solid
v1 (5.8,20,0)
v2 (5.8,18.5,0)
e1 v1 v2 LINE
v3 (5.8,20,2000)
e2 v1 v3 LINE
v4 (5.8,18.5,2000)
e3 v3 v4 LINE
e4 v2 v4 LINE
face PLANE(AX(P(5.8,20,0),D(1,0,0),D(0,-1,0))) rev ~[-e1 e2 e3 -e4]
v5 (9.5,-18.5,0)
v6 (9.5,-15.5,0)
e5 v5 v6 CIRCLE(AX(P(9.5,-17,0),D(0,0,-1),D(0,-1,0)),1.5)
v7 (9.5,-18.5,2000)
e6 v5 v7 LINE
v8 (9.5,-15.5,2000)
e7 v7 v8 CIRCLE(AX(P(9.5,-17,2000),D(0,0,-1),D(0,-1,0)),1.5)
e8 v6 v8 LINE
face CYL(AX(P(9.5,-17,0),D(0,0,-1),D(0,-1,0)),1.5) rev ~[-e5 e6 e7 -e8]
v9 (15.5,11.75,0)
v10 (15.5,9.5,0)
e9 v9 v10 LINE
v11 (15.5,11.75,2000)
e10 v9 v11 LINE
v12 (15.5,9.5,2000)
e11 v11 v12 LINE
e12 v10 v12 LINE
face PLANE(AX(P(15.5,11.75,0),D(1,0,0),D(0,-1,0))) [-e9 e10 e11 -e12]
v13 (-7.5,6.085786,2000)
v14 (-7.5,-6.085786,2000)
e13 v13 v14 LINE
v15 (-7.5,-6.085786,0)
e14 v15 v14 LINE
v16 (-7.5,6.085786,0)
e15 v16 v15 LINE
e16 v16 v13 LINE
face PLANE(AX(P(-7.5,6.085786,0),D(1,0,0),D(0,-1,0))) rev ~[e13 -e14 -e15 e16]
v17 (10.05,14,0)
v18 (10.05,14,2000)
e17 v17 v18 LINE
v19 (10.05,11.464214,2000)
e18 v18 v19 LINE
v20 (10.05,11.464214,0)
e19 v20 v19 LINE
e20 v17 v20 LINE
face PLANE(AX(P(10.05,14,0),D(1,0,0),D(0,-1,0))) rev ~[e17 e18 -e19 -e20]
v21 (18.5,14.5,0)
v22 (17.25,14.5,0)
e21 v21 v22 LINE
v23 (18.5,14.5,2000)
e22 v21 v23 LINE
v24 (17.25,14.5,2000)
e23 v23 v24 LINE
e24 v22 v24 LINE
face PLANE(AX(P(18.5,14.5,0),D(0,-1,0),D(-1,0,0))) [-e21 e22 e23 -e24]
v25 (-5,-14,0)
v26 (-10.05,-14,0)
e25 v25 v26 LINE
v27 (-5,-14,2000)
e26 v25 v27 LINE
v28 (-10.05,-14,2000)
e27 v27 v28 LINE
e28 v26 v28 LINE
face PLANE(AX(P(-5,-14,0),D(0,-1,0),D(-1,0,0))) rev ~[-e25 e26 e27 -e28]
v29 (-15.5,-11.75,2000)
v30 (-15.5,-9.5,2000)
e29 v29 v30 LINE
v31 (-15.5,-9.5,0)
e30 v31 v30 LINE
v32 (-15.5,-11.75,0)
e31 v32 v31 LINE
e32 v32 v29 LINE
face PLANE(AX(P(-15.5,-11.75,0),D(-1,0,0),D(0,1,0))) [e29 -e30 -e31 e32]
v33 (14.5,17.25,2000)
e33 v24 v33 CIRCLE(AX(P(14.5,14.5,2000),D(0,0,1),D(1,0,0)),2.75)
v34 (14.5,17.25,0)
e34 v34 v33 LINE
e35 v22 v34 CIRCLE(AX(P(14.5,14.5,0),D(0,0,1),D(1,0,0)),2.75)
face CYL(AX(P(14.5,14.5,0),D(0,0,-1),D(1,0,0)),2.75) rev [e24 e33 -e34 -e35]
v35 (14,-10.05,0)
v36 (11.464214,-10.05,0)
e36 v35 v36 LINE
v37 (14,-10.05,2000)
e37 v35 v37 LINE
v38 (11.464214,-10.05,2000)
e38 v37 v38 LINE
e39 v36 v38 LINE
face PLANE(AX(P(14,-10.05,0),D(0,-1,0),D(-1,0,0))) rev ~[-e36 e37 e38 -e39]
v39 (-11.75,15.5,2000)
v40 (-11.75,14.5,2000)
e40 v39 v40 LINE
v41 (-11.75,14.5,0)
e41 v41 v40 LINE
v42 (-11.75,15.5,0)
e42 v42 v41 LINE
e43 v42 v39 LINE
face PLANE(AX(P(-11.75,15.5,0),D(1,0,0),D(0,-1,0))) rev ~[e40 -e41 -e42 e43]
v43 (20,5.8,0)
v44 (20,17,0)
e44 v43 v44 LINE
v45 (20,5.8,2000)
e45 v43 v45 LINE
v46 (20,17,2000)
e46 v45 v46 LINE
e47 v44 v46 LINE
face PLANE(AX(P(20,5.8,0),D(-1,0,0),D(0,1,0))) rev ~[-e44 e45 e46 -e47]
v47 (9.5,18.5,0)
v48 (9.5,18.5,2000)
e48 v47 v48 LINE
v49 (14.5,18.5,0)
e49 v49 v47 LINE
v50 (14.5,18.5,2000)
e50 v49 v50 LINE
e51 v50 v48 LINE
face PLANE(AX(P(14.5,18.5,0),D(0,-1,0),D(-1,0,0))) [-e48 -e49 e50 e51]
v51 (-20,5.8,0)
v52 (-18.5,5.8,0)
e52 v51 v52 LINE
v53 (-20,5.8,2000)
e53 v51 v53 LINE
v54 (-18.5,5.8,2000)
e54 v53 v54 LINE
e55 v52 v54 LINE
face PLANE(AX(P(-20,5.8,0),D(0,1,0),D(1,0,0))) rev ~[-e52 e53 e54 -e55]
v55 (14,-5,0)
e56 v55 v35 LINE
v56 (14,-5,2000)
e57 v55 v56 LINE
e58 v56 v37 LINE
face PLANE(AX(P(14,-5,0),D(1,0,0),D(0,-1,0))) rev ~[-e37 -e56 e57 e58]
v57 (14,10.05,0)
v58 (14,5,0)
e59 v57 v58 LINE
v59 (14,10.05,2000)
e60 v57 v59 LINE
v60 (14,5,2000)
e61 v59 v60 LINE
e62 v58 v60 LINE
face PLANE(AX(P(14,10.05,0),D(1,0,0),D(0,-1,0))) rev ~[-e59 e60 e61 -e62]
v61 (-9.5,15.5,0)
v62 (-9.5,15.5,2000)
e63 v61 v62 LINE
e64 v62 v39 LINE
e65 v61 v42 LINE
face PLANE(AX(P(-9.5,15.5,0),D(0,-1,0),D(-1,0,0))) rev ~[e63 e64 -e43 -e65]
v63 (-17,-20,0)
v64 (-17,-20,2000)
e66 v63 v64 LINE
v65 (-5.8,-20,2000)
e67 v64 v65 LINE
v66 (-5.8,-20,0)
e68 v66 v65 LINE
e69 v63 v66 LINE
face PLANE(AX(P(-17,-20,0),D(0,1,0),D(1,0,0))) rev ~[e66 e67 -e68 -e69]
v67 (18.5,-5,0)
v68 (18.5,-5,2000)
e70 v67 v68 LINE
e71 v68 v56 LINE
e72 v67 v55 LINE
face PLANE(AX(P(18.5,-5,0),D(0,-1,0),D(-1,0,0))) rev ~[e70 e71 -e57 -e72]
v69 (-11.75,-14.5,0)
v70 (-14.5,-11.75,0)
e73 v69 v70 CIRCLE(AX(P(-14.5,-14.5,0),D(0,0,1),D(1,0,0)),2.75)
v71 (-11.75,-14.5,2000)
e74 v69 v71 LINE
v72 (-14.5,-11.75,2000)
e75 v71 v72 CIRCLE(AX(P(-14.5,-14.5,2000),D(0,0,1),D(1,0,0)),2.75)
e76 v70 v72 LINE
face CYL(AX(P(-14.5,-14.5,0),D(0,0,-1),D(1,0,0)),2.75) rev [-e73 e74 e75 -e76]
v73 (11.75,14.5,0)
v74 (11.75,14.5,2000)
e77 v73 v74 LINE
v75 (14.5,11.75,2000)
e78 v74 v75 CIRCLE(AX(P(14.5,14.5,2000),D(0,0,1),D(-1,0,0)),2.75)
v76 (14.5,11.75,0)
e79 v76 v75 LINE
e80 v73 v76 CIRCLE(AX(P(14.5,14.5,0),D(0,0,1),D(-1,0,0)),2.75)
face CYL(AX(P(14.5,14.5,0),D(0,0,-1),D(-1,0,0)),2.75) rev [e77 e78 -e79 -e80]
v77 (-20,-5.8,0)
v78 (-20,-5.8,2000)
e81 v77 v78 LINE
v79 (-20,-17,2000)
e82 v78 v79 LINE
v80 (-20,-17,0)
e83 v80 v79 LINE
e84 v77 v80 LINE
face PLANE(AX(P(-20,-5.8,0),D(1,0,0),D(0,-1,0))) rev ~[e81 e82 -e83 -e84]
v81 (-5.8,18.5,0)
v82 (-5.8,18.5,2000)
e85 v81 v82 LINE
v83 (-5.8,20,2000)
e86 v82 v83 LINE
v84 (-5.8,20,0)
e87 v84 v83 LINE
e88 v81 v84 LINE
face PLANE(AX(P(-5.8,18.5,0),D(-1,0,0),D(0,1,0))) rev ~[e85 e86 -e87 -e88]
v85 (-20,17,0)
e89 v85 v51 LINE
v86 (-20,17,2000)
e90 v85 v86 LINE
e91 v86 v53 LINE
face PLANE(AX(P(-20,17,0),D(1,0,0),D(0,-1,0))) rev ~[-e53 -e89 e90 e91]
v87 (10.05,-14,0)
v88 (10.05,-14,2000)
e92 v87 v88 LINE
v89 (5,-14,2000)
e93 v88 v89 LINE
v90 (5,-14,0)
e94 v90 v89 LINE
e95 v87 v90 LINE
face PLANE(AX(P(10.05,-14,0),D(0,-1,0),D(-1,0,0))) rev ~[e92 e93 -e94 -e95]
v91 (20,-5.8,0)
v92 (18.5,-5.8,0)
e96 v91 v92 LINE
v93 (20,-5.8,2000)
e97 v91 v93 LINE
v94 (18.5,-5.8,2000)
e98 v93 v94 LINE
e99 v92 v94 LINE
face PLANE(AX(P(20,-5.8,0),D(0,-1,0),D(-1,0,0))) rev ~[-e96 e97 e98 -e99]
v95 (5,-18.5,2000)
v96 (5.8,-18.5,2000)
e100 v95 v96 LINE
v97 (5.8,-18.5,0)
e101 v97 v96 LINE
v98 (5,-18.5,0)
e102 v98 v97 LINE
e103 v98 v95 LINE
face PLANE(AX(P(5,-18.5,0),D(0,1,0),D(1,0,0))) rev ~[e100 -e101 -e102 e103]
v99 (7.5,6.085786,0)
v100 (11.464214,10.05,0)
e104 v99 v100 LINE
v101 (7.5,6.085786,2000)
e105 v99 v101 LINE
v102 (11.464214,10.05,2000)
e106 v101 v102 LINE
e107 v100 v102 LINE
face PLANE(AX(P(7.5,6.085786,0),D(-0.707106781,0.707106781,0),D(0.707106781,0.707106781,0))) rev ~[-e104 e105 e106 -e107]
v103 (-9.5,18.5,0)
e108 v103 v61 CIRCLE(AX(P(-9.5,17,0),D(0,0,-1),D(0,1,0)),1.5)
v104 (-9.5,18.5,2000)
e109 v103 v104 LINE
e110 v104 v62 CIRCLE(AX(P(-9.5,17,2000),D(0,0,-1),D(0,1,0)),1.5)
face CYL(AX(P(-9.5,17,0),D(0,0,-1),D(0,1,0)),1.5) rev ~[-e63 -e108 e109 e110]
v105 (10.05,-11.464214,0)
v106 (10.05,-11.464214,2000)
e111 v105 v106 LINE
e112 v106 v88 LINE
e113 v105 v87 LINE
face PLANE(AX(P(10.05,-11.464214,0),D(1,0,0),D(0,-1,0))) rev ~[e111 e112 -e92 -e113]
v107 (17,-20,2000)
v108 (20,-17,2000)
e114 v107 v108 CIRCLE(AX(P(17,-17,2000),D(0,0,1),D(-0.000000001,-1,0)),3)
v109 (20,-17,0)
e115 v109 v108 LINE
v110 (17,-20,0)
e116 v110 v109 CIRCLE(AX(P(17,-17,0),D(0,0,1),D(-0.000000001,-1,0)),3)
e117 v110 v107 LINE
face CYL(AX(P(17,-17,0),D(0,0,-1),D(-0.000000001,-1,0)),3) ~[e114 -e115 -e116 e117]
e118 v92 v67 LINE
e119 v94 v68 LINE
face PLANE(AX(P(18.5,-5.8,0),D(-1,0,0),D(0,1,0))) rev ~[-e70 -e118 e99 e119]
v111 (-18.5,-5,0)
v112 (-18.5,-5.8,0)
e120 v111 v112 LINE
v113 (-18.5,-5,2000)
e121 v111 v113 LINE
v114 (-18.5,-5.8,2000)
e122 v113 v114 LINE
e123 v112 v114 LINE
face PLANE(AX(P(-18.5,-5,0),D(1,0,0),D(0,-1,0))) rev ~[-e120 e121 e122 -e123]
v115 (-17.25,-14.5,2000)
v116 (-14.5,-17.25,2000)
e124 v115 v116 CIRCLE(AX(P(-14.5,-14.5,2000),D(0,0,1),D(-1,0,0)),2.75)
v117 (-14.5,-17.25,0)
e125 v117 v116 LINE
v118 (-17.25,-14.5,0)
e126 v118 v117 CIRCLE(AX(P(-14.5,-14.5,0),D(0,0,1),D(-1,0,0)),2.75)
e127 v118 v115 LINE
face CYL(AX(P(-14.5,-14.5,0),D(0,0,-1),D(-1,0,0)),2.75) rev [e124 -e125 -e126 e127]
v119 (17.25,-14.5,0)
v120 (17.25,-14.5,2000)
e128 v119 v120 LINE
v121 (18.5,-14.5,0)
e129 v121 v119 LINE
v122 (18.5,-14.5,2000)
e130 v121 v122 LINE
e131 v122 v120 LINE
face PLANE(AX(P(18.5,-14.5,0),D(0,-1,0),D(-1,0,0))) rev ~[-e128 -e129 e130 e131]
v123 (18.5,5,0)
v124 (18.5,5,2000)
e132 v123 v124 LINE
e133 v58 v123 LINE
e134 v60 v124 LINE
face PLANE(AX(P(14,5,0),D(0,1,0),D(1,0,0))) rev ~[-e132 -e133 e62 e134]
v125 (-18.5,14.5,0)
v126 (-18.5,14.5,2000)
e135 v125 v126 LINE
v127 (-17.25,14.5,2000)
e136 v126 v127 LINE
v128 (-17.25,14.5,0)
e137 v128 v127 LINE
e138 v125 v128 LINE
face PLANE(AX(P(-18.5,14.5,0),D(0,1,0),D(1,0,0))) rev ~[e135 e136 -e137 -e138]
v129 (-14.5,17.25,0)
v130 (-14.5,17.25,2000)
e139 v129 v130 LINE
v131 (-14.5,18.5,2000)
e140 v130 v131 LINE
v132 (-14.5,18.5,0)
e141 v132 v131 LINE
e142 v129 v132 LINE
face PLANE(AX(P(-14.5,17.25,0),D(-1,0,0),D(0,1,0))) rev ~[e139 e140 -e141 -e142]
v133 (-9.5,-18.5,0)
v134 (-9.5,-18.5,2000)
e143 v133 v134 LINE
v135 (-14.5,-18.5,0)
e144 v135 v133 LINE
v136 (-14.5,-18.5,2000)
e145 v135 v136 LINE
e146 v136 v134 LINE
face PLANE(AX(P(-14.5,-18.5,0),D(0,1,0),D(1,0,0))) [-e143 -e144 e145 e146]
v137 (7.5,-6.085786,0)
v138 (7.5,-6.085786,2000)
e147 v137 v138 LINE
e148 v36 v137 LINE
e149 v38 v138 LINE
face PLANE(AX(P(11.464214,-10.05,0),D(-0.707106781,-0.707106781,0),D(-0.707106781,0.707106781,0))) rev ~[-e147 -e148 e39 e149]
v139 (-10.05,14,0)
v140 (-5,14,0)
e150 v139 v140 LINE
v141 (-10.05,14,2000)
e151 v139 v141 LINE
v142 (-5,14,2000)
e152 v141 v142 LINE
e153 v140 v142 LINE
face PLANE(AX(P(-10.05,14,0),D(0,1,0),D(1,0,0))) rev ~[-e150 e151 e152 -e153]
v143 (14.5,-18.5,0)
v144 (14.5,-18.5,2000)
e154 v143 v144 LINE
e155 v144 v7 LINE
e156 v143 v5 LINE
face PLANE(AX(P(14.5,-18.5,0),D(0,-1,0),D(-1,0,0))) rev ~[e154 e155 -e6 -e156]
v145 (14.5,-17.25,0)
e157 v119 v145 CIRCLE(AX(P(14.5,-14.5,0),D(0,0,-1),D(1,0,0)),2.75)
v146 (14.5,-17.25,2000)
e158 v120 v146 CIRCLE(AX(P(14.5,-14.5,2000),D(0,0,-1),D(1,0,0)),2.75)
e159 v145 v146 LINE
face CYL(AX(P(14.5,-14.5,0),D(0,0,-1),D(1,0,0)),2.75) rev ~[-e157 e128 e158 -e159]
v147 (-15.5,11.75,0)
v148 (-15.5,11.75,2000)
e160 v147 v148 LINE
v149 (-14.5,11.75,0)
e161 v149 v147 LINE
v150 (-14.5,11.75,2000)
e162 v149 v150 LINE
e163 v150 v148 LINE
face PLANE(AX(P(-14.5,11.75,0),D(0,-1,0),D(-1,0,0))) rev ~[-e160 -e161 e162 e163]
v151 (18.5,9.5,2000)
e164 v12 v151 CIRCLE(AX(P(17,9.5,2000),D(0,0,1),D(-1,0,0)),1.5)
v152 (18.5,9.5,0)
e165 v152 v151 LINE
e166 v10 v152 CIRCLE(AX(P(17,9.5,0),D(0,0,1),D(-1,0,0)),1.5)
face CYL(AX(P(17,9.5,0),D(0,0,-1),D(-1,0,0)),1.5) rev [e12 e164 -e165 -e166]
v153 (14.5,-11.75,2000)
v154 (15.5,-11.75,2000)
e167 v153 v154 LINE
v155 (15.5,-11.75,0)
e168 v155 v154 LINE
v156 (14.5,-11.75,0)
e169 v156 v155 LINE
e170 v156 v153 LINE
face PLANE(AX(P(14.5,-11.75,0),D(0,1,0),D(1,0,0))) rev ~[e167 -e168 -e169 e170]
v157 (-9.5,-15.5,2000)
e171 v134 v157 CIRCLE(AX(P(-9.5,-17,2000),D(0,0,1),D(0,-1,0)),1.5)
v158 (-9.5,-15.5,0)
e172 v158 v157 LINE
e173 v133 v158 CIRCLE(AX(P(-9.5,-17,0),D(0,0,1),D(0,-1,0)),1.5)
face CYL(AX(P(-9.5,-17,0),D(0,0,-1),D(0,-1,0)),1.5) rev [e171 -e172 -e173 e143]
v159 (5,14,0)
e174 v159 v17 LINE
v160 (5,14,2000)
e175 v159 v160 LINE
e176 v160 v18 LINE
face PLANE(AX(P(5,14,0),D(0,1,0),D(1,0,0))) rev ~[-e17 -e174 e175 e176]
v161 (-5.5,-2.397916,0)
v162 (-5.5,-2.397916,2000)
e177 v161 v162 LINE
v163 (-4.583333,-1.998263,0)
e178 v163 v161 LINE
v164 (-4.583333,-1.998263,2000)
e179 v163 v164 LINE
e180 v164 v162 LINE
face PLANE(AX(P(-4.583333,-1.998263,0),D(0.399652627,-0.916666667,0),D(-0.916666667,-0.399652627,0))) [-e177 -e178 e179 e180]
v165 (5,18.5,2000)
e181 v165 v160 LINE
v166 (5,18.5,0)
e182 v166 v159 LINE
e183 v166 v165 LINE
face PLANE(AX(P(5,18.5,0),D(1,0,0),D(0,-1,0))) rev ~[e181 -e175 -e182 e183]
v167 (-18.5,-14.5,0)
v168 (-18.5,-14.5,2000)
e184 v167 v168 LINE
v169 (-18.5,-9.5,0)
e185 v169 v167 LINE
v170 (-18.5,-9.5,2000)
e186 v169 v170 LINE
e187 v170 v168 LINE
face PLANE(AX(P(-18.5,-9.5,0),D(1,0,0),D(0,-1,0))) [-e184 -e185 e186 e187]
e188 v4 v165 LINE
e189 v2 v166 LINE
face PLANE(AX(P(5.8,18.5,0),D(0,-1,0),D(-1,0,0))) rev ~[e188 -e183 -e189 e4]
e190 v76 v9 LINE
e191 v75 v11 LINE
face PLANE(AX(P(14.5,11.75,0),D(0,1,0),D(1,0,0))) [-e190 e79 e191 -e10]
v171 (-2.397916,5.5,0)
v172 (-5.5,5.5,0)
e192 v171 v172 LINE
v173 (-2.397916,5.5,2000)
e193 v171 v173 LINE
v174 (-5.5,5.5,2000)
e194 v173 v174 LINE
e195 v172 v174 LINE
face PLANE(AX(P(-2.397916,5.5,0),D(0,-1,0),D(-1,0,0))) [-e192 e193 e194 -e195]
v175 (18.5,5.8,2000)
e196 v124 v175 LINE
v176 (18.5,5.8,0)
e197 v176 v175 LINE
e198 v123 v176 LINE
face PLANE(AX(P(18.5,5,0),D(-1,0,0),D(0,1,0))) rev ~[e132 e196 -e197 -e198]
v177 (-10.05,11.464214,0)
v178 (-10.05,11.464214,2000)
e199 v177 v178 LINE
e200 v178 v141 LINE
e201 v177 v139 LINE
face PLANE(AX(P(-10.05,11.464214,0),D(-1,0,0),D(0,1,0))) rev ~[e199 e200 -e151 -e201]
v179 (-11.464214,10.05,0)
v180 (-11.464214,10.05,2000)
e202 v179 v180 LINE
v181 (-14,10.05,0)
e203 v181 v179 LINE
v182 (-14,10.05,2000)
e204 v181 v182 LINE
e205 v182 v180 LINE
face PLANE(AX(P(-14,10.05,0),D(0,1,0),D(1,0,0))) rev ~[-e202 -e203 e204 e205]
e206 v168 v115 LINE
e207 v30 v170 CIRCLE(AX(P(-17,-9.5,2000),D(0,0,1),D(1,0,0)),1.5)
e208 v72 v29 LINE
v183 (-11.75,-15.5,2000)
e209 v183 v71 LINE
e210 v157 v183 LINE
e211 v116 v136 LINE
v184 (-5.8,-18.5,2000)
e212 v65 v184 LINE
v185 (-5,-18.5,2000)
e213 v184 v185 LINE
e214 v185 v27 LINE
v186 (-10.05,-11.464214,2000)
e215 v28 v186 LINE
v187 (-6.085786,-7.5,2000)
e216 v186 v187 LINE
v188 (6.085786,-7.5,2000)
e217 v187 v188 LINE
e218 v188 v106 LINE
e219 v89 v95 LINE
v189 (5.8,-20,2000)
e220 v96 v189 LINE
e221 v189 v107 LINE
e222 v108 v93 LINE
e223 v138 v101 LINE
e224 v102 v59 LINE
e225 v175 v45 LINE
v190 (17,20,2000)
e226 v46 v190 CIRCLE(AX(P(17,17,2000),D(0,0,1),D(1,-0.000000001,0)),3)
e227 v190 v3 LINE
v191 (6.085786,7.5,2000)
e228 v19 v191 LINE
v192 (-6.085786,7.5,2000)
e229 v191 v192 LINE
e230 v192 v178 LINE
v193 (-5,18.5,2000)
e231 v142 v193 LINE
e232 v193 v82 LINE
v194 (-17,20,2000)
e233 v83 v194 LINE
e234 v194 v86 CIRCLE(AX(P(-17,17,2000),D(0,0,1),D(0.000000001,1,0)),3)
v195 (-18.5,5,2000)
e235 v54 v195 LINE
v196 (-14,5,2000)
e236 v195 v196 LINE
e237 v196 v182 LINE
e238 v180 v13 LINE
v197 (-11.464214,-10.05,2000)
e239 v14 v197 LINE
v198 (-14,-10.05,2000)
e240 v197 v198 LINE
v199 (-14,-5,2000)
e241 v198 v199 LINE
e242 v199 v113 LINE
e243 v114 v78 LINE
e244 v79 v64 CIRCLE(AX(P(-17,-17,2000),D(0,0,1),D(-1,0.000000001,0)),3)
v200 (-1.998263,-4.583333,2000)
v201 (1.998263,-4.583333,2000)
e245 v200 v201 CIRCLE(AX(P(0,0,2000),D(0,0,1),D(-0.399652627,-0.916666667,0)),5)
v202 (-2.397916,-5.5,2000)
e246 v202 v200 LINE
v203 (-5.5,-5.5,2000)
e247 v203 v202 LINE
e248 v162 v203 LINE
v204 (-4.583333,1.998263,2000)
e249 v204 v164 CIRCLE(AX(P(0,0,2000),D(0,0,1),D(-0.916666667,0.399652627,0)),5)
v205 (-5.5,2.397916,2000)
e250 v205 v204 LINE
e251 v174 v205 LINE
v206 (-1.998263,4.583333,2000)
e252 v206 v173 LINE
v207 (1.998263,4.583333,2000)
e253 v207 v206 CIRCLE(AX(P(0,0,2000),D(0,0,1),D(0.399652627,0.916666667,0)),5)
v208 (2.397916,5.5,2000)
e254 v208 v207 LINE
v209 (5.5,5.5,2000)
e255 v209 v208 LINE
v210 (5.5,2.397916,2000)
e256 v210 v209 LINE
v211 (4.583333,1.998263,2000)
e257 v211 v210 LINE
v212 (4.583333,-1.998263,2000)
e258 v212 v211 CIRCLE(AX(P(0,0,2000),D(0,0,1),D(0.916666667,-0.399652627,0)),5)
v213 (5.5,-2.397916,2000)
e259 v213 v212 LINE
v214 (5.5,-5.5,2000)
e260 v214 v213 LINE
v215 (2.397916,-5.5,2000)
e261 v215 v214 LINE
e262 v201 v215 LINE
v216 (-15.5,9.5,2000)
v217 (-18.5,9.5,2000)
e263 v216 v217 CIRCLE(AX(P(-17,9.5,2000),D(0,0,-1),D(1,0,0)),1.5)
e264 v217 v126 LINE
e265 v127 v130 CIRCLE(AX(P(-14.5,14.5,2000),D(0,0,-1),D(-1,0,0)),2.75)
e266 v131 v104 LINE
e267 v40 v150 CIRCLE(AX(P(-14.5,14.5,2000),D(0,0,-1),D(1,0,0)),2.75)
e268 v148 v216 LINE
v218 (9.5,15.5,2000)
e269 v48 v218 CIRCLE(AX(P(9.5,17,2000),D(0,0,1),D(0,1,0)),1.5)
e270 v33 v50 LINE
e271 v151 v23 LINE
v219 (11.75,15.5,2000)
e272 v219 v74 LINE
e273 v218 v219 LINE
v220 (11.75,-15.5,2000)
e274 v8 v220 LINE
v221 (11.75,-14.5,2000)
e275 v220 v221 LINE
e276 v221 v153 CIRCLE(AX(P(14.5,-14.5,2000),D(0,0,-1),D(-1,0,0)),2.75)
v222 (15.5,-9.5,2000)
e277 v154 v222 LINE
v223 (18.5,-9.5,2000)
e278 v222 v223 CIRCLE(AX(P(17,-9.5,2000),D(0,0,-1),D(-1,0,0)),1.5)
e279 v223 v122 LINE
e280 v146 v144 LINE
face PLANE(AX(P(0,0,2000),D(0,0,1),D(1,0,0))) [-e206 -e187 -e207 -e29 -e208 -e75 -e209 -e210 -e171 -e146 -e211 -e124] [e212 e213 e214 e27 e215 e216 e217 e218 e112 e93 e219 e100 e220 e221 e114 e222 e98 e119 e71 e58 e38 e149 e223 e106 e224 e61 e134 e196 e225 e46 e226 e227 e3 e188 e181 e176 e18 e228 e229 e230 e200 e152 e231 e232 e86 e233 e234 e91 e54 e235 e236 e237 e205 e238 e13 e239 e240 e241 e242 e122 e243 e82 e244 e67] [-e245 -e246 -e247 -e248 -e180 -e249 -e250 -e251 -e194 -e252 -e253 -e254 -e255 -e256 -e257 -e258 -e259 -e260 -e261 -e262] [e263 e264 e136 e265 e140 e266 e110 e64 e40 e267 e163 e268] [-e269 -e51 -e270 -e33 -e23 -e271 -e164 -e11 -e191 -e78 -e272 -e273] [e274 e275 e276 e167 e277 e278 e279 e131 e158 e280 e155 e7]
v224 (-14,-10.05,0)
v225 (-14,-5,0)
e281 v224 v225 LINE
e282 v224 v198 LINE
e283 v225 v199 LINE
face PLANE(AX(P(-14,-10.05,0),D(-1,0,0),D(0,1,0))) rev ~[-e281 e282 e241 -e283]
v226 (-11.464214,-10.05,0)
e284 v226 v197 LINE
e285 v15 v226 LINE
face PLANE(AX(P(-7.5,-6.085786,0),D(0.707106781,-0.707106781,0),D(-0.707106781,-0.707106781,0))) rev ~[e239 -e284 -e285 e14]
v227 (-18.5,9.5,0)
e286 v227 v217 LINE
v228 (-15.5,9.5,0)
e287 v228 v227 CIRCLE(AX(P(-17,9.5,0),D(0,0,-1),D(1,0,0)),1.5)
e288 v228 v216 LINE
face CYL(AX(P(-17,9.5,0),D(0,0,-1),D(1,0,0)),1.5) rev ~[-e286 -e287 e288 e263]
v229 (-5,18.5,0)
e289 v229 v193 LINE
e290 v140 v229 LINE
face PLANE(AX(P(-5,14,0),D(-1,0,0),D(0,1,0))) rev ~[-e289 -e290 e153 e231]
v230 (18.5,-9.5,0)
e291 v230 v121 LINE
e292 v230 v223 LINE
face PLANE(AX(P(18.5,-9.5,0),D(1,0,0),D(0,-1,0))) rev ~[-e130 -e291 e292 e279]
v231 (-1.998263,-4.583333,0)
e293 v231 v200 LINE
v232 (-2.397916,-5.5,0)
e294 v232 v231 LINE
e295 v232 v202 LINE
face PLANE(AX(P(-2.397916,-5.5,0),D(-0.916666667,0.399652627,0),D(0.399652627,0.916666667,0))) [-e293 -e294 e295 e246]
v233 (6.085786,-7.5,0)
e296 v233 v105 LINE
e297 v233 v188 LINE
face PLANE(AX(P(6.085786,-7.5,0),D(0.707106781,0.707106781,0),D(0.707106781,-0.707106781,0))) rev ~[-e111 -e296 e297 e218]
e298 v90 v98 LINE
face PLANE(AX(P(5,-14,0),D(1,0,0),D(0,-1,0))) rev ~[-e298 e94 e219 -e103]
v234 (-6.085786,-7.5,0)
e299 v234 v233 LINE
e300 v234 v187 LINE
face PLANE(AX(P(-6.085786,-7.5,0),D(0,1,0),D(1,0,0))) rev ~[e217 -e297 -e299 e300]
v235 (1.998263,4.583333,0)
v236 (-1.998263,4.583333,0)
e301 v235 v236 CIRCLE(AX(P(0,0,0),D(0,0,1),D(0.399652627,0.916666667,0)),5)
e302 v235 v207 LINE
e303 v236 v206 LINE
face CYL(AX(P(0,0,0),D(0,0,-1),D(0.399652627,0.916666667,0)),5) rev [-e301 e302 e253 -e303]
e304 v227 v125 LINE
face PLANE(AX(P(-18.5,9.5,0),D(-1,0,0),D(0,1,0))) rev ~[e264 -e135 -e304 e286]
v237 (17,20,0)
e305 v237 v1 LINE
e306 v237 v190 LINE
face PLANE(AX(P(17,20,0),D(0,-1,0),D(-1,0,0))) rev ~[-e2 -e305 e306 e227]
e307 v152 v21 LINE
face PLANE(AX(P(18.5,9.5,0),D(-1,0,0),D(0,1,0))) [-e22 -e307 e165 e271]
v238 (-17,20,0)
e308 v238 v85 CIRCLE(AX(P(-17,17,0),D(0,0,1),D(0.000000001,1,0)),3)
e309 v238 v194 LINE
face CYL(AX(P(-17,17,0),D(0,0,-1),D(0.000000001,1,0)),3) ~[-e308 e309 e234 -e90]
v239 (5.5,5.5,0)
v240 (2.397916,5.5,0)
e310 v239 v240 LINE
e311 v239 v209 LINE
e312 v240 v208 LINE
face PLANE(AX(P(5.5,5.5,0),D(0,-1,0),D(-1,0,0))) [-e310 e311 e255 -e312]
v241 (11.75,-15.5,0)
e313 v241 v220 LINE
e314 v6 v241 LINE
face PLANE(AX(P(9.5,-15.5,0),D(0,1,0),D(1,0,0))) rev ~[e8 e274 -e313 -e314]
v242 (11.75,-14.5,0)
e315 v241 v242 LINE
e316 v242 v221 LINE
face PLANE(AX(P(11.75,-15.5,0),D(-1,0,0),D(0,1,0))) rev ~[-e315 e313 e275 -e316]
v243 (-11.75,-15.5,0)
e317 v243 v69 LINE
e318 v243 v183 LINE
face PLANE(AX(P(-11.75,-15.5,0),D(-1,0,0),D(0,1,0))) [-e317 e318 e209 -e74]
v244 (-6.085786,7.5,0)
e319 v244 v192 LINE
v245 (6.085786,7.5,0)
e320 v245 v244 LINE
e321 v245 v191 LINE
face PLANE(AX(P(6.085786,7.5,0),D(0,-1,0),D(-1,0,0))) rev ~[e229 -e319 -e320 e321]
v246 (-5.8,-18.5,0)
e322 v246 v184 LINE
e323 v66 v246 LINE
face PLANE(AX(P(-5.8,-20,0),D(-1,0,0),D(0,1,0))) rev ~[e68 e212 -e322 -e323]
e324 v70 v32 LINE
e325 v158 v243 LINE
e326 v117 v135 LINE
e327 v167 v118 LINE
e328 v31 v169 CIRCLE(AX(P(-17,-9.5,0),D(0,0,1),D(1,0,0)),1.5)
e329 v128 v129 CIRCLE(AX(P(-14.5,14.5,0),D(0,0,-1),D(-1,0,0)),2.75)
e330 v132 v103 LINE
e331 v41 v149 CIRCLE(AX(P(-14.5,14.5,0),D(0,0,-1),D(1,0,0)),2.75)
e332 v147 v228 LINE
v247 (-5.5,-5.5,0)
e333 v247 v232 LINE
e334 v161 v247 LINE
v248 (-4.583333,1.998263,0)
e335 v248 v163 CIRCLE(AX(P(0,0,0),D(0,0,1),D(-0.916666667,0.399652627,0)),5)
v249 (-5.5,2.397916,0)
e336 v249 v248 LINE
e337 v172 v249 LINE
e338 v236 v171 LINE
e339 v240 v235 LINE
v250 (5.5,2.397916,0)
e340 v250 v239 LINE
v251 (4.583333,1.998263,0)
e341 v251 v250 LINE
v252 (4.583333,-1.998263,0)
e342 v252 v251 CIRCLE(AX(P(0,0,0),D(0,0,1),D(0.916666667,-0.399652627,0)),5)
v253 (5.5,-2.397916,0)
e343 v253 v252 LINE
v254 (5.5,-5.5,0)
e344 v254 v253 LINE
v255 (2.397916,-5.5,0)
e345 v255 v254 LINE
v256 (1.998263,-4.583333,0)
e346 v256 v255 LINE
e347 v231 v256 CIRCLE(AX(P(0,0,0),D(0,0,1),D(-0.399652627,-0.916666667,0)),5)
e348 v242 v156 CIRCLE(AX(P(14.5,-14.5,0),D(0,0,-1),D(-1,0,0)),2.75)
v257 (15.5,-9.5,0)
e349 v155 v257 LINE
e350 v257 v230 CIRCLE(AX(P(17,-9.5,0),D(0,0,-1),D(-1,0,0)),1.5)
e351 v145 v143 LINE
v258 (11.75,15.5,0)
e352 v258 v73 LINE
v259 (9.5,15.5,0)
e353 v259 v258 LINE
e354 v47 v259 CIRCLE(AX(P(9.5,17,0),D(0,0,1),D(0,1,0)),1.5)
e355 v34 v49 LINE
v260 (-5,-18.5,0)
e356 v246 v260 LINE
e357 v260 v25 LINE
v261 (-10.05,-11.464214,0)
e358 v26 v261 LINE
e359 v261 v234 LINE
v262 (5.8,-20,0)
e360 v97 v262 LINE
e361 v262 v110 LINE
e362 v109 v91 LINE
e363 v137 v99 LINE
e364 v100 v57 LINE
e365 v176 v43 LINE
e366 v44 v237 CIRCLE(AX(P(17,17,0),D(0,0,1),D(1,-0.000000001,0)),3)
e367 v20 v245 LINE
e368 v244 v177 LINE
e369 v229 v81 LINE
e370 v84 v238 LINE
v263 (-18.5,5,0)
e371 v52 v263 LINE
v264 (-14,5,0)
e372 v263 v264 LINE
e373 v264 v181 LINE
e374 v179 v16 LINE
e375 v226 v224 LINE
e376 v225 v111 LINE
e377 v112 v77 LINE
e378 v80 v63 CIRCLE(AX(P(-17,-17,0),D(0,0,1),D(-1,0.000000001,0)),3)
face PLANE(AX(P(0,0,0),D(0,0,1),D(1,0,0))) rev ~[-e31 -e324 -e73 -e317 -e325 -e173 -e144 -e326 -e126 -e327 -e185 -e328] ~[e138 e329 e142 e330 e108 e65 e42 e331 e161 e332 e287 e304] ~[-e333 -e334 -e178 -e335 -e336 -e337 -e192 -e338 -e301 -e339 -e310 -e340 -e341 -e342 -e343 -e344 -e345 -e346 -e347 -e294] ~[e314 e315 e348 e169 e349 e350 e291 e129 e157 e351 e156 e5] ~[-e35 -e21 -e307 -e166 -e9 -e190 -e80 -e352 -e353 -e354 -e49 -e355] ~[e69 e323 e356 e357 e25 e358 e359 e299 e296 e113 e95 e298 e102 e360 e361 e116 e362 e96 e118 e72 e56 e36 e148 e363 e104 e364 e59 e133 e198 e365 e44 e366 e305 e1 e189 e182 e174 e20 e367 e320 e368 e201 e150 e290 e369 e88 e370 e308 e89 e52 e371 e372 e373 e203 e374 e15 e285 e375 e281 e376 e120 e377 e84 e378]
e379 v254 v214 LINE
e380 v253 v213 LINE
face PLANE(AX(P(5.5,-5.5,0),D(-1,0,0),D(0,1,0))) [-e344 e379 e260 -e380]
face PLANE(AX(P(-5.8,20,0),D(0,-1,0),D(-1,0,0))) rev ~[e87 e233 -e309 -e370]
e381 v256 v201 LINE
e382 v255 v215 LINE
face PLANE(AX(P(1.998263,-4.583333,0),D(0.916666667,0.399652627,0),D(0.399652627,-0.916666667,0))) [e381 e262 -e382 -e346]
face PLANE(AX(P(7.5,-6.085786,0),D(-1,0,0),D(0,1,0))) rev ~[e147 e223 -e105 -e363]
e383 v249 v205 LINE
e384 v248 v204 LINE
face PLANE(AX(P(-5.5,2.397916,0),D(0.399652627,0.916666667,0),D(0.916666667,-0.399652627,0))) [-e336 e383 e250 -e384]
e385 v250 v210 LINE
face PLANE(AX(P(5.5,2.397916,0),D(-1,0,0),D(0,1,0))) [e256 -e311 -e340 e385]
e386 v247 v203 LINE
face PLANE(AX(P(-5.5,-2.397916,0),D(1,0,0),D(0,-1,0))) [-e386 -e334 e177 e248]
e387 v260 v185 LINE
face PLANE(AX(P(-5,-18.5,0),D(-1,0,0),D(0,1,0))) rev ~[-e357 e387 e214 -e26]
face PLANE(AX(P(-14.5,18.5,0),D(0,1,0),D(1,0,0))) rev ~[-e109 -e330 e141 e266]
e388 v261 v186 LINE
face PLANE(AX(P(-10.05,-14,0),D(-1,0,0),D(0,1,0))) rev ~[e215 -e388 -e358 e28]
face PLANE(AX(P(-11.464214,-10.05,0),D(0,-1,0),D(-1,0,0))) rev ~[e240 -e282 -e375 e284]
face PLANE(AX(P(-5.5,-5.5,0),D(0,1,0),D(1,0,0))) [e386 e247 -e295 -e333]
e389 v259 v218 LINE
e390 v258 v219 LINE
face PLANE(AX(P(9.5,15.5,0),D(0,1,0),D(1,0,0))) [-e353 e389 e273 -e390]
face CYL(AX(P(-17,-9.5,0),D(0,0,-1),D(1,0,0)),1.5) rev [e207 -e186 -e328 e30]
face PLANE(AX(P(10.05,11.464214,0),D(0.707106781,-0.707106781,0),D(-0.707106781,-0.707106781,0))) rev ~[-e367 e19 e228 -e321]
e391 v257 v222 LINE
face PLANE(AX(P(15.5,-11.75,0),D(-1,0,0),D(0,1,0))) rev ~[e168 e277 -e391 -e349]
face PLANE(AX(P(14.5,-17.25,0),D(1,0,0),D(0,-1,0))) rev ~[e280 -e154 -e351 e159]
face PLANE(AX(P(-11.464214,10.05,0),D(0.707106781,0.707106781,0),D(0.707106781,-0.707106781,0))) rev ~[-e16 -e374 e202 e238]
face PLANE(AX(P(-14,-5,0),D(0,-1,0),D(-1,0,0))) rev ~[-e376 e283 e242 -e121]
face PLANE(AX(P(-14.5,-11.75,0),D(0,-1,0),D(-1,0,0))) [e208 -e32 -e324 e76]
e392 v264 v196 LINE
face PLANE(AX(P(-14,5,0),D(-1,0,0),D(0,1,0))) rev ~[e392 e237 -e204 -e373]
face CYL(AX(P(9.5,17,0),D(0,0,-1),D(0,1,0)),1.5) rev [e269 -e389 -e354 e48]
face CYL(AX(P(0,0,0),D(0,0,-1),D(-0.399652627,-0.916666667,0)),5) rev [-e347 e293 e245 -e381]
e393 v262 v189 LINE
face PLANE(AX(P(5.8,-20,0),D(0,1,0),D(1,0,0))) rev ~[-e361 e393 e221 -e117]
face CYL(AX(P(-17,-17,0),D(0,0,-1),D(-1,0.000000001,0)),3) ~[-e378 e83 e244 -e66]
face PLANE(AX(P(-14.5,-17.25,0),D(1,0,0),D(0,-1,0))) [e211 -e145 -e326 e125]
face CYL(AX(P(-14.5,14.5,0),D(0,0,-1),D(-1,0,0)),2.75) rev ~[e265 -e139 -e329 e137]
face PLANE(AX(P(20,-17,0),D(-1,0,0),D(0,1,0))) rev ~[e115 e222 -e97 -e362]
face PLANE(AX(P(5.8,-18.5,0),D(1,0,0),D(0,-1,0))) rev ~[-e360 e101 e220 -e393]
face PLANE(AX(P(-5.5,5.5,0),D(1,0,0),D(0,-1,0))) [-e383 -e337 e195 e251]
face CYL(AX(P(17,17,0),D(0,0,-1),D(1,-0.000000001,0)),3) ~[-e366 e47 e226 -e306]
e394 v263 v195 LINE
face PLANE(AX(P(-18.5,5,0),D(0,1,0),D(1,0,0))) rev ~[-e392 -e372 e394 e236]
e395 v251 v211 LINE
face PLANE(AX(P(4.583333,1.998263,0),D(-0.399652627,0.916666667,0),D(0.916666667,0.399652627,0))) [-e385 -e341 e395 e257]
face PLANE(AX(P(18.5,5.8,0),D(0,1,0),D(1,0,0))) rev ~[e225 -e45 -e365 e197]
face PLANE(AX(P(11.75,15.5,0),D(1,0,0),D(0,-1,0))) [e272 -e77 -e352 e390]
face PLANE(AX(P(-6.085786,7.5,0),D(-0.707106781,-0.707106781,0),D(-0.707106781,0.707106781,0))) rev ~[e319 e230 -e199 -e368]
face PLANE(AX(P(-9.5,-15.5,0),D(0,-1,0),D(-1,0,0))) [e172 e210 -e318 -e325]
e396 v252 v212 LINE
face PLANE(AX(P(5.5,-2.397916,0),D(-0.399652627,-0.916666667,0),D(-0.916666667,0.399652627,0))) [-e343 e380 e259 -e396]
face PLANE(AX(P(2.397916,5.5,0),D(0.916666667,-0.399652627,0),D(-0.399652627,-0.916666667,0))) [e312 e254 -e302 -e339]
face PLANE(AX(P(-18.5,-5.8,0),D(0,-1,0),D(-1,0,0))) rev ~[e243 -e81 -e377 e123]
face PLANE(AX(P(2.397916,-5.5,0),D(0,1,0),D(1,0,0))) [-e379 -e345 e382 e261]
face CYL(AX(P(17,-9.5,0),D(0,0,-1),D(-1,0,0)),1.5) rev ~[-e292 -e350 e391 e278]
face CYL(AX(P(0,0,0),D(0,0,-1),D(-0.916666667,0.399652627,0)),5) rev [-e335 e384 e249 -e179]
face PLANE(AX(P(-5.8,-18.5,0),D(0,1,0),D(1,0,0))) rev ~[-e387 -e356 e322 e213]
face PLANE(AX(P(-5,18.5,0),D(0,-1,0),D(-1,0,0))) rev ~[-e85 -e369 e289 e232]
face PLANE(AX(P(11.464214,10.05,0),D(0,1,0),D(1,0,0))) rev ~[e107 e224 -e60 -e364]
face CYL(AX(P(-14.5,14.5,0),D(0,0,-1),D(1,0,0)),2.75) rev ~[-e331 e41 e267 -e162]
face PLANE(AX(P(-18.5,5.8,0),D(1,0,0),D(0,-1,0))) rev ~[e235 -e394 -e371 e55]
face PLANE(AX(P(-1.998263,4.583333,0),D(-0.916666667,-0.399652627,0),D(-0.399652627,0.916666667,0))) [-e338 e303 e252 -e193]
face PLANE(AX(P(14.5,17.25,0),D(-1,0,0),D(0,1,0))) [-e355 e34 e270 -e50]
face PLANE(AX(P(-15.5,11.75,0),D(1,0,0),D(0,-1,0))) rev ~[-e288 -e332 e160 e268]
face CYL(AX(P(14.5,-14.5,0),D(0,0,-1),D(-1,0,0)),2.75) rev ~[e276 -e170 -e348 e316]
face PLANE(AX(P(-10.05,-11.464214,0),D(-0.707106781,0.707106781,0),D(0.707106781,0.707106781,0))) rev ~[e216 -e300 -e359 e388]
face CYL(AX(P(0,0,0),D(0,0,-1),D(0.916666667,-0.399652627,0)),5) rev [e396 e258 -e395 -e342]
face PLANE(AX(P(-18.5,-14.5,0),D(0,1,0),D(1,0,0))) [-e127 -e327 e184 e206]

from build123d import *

# Parameters (mm, degrees)
EXTRUDE1_DEPTH = 2000


with BuildPart() as part:
    # Sketch1 → Extrude1 (new body)
    with BuildSketch(Plane.XY):
        with BuildLine():
            Line((5.8, -20), (17, -20))
            ThreePointArc((17, -20), (19.121320344, -19.121320344), (20, -17))
            Line((20, -17), (20, -5.8))
            Line((20, -5.8), (18.5, -5.8))
            Line((18.5, -5.8), (18.5, -5))
            Line((18.5, -5), (14, -5))
            Line((14, -5), (14, -10.05))
            Line((14, -10.05), (11.464213562, -10.05))
            Line((11.464213562, -10.05), (7.5, -6.085786438))
            Line((7.5, -6.085786438), (7.5, 6.085786438))
            Line((7.5, 6.085786438), (11.464213562, 10.05))
            Line((11.464213562, 10.05), (14, 10.05))
            Line((14, 10.05), (14, 5))
            Line((14, 5), (18.5, 5))
            Line((18.5, 5), (18.5, 5.8))
            Line((18.5, 5.8), (20, 5.8))
            Line((20, 5.8), (20, 17))
            ThreePointArc((20, 17), (19.121320344, 19.121320344), (17, 20))
            Line((17, 20), (5.8, 20))
            Line((5.8, 20), (5.8, 18.5))
            Line((5.8, 18.5), (5, 18.5))
            Line((5, 18.5), (5, 14))
            Line((5, 14), (10.05, 14))
            Line((10.05, 14), (10.05, 11.464213562))
            Line((10.05, 11.464213562), (6.085786438, 7.5))
            Line((6.085786438, 7.5), (-6.085786438, 7.5))
            Line((-6.085786438, 7.5), (-10.05, 11.464213562))
            Line((-10.05, 11.464213562), (-10.05, 14))
            Line((-10.05, 14), (-5, 14))
            Line((-5, 14), (-5, 18.5))
            Line((-5, 18.5), (-5.8, 18.5))
            Line((-5.8, 18.5), (-5.8, 20))
            Line((-5.8, 20), (-17, 20))
            ThreePointArc((-17, 20), (-19.121320344, 19.121320344), (-20, 17))
            Line((-20, 17), (-20, 5.8))
            Line((-20, 5.8), (-18.5, 5.8))
            Line((-18.5, 5.8), (-18.5, 5))
            Line((-18.5, 5), (-14, 5))
            Line((-14, 5), (-14, 10.05))
            Line((-14, 10.05), (-11.464213562, 10.05))
            Line((-11.464213562, 10.05), (-7.5, 6.085786438))
            Line((-7.5, 6.085786438), (-7.5, -6.085786438))
            Line((-7.5, -6.085786438), (-11.464213562, -10.05))
            Line((-11.464213562, -10.05), (-14, -10.05))
            Line((-14, -10.05), (-14, -5))
            Line((-14, -5), (-18.5, -5))
            Line((-18.5, -5), (-18.5, -5.8))
            Line((-18.5, -5.8), (-20, -5.8))
            Line((-20, -5.8), (-20, -17))
            ThreePointArc((-20, -17), (-19.121320344, -19.121320344), (-17, -20))
            Line((-17, -20), (-5.8, -20))
            Line((-5.8, -20), (-5.8, -18.5))
            Line((-5.8, -18.5), (-5, -18.5))
            Line((-5, -18.5), (-5, -14))
            Line((-5, -14), (-10.05, -14))
            Line((-10.05, -14), (-10.05, -11.464213562))
            Line((-10.05, -11.464213562), (-6.085786438, -7.5))
            Line((-6.085786438, -7.5), (6.085786438, -7.5))
            Line((6.085786438, -7.5), (10.05, -11.464213562))
            Line((10.05, -11.464213562), (10.05, -14))
            Line((10.05, -14), (5, -14))
            Line((5, -14), (5, -18.5))
            Line((5, -18.5), (5.8, -18.5))
            Line((5.8, -18.5), (5.8, -20))
        make_face()
        with BuildLine():
            Line((14.5, -18.5), (9.5, -18.5))
            ThreePointArc((9.5, -18.5), (8, -17), (9.5, -15.5))
            Line((9.5, -15.5), (11.75, -15.5))
            Line((11.75, -15.5), (11.75, -14.5))
            ThreePointArc((11.75, -14.5), (12.555456352, -12.555456352), (14.5, -11.75))
            Line((14.5, -11.75), (15.5, -11.75))
            Line((15.5, -11.75), (15.5, -9.5))
            ThreePointArc((15.5, -9.5), (17, -8), (18.5, -9.5))
            Line((18.5, -9.5), (18.5, -14.5))
            Line((18.5, -14.5), (17.25, -14.5))
            ThreePointArc((17.25, -14.5), (16.444543648, -16.444543648), (14.5, -17.25))
            Line((14.5, -17.25), (14.5, -18.5))
        make_face(mode=Mode.SUBTRACT)
        with BuildLine():
            Line((18.5, 14.5), (17.25, 14.5))
            ThreePointArc((17.25, 14.5), (16.444543648, 16.444543648), (14.5, 17.25))
            Line((14.5, 17.25), (14.5, 18.5))
            Line((14.5, 18.5), (9.5, 18.5))
            ThreePointArc((9.5, 18.5), (8, 17), (9.5, 15.5))
            Line((9.5, 15.5), (11.75, 15.5))
            Line((11.75, 15.5), (11.75, 14.5))
            ThreePointArc((11.75, 14.5), (12.555456352, 12.555456352), (14.5, 11.75))
            Line((14.5, 11.75), (15.5, 11.75))
            Line((15.5, 11.75), (15.5, 9.5))
            ThreePointArc((15.5, 9.5), (17, 8), (18.5, 9.5))
            Line((18.5, 9.5), (18.5, 14.5))
        make_face(mode=Mode.SUBTRACT)
        with BuildLine():
            Line((5.5, 5.5), (2.397915762, 5.5))
            Line((2.397915762, 5.5), (1.998263135, 4.583333333))
            ThreePointArc((1.998263135, 4.583333333), (0, 5), (-1.998263135, 4.583333333))
            Line((-1.998263135, 4.583333333), (-2.397915762, 5.5))
            Line((-2.397915762, 5.5), (-5.5, 5.5))
            Line((-5.5, 5.5), (-5.5, 2.397915762))
            Line((-5.5, 2.397915762), (-4.583333333, 1.998263135))
            ThreePointArc((-4.583333333, 1.998263135), (-5, 0), (-4.583333333, -1.998263135))
            Line((-4.583333333, -1.998263135), (-5.5, -2.397915762))
            Line((-5.5, -2.397915762), (-5.5, -5.5))
            Line((-5.5, -5.5), (-2.397915762, -5.5))
            Line((-2.397915762, -5.5), (-1.998263135, -4.583333333))
            ThreePointArc((-1.998263135, -4.583333333), (0, -5), (1.998263135, -4.583333333))
            Line((1.998263135, -4.583333333), (2.397915762, -5.5))
            Line((2.397915762, -5.5), (5.5, -5.5))
            Line((5.5, -5.5), (5.5, -2.397915762))
            Line((5.5, -2.397915762), (4.583333333, -1.998263135))
            ThreePointArc((4.583333333, -1.998263135), (5, 0), (4.583333333, 1.998263135))
            Line((4.583333333, 1.998263135), (5.5, 2.397915762))
            Line((5.5, 2.397915762), (5.5, 5.5))
        make_face(mode=Mode.SUBTRACT)
        with BuildLine():
            Line((-18.5, -14.5), (-17.25, -14.5))
            ThreePointArc((-17.25, -14.5), (-16.444543648, -16.444543648), (-14.5, -17.25))
            Line((-14.5, -17.25), (-14.5, -18.5))
            Line((-14.5, -18.5), (-9.5, -18.5))
            ThreePointArc((-9.5, -18.5), (-8, -17), (-9.5, -15.5))
            Line((-9.5, -15.5), (-11.75, -15.5))
            Line((-11.75, -15.5), (-11.75, -14.5))
            ThreePointArc((-11.75, -14.5), (-12.555456352, -12.555456352), (-14.5, -11.75))
            Line((-14.5, -11.75), (-15.5, -11.75))
            Line((-15.5, -11.75), (-15.5, -9.5))
            ThreePointArc((-15.5, -9.5), (-17, -8), (-18.5, -9.5))
            Line((-18.5, -9.5), (-18.5, -14.5))
        make_face(mode=Mode.SUBTRACT)
        with BuildLine():
            Line((-14.5, 18.5), (-9.5, 18.5))
            ThreePointArc((-9.5, 18.5), (-8, 17), (-9.5, 15.5))
            Line((-9.5, 15.5), (-11.75, 15.5))
            Line((-11.75, 15.5), (-11.75, 14.5))
            ThreePointArc((-11.75, 14.5), (-12.555456352, 12.555456352), (-14.5, 11.75))
            Line((-14.5, 11.75), (-15.5, 11.75))
            Line((-15.5, 11.75), (-15.5, 9.5))
            ThreePointArc((-15.5, 9.5), (-17, 8), (-18.5, 9.5))
            Line((-18.5, 9.5), (-18.5, 14.5))
            Line((-18.5, 14.5), (-17.25, 14.5))
            ThreePointArc((-17.25, 14.5), (-16.444543648, 16.444543648), (-14.5, 17.25))
            Line((-14.5, 17.25), (-14.5, 18.5))
        make_face(mode=Mode.SUBTRACT)
    extrude(amount=EXTRUDE1_DEPTH)


solid = part.part
